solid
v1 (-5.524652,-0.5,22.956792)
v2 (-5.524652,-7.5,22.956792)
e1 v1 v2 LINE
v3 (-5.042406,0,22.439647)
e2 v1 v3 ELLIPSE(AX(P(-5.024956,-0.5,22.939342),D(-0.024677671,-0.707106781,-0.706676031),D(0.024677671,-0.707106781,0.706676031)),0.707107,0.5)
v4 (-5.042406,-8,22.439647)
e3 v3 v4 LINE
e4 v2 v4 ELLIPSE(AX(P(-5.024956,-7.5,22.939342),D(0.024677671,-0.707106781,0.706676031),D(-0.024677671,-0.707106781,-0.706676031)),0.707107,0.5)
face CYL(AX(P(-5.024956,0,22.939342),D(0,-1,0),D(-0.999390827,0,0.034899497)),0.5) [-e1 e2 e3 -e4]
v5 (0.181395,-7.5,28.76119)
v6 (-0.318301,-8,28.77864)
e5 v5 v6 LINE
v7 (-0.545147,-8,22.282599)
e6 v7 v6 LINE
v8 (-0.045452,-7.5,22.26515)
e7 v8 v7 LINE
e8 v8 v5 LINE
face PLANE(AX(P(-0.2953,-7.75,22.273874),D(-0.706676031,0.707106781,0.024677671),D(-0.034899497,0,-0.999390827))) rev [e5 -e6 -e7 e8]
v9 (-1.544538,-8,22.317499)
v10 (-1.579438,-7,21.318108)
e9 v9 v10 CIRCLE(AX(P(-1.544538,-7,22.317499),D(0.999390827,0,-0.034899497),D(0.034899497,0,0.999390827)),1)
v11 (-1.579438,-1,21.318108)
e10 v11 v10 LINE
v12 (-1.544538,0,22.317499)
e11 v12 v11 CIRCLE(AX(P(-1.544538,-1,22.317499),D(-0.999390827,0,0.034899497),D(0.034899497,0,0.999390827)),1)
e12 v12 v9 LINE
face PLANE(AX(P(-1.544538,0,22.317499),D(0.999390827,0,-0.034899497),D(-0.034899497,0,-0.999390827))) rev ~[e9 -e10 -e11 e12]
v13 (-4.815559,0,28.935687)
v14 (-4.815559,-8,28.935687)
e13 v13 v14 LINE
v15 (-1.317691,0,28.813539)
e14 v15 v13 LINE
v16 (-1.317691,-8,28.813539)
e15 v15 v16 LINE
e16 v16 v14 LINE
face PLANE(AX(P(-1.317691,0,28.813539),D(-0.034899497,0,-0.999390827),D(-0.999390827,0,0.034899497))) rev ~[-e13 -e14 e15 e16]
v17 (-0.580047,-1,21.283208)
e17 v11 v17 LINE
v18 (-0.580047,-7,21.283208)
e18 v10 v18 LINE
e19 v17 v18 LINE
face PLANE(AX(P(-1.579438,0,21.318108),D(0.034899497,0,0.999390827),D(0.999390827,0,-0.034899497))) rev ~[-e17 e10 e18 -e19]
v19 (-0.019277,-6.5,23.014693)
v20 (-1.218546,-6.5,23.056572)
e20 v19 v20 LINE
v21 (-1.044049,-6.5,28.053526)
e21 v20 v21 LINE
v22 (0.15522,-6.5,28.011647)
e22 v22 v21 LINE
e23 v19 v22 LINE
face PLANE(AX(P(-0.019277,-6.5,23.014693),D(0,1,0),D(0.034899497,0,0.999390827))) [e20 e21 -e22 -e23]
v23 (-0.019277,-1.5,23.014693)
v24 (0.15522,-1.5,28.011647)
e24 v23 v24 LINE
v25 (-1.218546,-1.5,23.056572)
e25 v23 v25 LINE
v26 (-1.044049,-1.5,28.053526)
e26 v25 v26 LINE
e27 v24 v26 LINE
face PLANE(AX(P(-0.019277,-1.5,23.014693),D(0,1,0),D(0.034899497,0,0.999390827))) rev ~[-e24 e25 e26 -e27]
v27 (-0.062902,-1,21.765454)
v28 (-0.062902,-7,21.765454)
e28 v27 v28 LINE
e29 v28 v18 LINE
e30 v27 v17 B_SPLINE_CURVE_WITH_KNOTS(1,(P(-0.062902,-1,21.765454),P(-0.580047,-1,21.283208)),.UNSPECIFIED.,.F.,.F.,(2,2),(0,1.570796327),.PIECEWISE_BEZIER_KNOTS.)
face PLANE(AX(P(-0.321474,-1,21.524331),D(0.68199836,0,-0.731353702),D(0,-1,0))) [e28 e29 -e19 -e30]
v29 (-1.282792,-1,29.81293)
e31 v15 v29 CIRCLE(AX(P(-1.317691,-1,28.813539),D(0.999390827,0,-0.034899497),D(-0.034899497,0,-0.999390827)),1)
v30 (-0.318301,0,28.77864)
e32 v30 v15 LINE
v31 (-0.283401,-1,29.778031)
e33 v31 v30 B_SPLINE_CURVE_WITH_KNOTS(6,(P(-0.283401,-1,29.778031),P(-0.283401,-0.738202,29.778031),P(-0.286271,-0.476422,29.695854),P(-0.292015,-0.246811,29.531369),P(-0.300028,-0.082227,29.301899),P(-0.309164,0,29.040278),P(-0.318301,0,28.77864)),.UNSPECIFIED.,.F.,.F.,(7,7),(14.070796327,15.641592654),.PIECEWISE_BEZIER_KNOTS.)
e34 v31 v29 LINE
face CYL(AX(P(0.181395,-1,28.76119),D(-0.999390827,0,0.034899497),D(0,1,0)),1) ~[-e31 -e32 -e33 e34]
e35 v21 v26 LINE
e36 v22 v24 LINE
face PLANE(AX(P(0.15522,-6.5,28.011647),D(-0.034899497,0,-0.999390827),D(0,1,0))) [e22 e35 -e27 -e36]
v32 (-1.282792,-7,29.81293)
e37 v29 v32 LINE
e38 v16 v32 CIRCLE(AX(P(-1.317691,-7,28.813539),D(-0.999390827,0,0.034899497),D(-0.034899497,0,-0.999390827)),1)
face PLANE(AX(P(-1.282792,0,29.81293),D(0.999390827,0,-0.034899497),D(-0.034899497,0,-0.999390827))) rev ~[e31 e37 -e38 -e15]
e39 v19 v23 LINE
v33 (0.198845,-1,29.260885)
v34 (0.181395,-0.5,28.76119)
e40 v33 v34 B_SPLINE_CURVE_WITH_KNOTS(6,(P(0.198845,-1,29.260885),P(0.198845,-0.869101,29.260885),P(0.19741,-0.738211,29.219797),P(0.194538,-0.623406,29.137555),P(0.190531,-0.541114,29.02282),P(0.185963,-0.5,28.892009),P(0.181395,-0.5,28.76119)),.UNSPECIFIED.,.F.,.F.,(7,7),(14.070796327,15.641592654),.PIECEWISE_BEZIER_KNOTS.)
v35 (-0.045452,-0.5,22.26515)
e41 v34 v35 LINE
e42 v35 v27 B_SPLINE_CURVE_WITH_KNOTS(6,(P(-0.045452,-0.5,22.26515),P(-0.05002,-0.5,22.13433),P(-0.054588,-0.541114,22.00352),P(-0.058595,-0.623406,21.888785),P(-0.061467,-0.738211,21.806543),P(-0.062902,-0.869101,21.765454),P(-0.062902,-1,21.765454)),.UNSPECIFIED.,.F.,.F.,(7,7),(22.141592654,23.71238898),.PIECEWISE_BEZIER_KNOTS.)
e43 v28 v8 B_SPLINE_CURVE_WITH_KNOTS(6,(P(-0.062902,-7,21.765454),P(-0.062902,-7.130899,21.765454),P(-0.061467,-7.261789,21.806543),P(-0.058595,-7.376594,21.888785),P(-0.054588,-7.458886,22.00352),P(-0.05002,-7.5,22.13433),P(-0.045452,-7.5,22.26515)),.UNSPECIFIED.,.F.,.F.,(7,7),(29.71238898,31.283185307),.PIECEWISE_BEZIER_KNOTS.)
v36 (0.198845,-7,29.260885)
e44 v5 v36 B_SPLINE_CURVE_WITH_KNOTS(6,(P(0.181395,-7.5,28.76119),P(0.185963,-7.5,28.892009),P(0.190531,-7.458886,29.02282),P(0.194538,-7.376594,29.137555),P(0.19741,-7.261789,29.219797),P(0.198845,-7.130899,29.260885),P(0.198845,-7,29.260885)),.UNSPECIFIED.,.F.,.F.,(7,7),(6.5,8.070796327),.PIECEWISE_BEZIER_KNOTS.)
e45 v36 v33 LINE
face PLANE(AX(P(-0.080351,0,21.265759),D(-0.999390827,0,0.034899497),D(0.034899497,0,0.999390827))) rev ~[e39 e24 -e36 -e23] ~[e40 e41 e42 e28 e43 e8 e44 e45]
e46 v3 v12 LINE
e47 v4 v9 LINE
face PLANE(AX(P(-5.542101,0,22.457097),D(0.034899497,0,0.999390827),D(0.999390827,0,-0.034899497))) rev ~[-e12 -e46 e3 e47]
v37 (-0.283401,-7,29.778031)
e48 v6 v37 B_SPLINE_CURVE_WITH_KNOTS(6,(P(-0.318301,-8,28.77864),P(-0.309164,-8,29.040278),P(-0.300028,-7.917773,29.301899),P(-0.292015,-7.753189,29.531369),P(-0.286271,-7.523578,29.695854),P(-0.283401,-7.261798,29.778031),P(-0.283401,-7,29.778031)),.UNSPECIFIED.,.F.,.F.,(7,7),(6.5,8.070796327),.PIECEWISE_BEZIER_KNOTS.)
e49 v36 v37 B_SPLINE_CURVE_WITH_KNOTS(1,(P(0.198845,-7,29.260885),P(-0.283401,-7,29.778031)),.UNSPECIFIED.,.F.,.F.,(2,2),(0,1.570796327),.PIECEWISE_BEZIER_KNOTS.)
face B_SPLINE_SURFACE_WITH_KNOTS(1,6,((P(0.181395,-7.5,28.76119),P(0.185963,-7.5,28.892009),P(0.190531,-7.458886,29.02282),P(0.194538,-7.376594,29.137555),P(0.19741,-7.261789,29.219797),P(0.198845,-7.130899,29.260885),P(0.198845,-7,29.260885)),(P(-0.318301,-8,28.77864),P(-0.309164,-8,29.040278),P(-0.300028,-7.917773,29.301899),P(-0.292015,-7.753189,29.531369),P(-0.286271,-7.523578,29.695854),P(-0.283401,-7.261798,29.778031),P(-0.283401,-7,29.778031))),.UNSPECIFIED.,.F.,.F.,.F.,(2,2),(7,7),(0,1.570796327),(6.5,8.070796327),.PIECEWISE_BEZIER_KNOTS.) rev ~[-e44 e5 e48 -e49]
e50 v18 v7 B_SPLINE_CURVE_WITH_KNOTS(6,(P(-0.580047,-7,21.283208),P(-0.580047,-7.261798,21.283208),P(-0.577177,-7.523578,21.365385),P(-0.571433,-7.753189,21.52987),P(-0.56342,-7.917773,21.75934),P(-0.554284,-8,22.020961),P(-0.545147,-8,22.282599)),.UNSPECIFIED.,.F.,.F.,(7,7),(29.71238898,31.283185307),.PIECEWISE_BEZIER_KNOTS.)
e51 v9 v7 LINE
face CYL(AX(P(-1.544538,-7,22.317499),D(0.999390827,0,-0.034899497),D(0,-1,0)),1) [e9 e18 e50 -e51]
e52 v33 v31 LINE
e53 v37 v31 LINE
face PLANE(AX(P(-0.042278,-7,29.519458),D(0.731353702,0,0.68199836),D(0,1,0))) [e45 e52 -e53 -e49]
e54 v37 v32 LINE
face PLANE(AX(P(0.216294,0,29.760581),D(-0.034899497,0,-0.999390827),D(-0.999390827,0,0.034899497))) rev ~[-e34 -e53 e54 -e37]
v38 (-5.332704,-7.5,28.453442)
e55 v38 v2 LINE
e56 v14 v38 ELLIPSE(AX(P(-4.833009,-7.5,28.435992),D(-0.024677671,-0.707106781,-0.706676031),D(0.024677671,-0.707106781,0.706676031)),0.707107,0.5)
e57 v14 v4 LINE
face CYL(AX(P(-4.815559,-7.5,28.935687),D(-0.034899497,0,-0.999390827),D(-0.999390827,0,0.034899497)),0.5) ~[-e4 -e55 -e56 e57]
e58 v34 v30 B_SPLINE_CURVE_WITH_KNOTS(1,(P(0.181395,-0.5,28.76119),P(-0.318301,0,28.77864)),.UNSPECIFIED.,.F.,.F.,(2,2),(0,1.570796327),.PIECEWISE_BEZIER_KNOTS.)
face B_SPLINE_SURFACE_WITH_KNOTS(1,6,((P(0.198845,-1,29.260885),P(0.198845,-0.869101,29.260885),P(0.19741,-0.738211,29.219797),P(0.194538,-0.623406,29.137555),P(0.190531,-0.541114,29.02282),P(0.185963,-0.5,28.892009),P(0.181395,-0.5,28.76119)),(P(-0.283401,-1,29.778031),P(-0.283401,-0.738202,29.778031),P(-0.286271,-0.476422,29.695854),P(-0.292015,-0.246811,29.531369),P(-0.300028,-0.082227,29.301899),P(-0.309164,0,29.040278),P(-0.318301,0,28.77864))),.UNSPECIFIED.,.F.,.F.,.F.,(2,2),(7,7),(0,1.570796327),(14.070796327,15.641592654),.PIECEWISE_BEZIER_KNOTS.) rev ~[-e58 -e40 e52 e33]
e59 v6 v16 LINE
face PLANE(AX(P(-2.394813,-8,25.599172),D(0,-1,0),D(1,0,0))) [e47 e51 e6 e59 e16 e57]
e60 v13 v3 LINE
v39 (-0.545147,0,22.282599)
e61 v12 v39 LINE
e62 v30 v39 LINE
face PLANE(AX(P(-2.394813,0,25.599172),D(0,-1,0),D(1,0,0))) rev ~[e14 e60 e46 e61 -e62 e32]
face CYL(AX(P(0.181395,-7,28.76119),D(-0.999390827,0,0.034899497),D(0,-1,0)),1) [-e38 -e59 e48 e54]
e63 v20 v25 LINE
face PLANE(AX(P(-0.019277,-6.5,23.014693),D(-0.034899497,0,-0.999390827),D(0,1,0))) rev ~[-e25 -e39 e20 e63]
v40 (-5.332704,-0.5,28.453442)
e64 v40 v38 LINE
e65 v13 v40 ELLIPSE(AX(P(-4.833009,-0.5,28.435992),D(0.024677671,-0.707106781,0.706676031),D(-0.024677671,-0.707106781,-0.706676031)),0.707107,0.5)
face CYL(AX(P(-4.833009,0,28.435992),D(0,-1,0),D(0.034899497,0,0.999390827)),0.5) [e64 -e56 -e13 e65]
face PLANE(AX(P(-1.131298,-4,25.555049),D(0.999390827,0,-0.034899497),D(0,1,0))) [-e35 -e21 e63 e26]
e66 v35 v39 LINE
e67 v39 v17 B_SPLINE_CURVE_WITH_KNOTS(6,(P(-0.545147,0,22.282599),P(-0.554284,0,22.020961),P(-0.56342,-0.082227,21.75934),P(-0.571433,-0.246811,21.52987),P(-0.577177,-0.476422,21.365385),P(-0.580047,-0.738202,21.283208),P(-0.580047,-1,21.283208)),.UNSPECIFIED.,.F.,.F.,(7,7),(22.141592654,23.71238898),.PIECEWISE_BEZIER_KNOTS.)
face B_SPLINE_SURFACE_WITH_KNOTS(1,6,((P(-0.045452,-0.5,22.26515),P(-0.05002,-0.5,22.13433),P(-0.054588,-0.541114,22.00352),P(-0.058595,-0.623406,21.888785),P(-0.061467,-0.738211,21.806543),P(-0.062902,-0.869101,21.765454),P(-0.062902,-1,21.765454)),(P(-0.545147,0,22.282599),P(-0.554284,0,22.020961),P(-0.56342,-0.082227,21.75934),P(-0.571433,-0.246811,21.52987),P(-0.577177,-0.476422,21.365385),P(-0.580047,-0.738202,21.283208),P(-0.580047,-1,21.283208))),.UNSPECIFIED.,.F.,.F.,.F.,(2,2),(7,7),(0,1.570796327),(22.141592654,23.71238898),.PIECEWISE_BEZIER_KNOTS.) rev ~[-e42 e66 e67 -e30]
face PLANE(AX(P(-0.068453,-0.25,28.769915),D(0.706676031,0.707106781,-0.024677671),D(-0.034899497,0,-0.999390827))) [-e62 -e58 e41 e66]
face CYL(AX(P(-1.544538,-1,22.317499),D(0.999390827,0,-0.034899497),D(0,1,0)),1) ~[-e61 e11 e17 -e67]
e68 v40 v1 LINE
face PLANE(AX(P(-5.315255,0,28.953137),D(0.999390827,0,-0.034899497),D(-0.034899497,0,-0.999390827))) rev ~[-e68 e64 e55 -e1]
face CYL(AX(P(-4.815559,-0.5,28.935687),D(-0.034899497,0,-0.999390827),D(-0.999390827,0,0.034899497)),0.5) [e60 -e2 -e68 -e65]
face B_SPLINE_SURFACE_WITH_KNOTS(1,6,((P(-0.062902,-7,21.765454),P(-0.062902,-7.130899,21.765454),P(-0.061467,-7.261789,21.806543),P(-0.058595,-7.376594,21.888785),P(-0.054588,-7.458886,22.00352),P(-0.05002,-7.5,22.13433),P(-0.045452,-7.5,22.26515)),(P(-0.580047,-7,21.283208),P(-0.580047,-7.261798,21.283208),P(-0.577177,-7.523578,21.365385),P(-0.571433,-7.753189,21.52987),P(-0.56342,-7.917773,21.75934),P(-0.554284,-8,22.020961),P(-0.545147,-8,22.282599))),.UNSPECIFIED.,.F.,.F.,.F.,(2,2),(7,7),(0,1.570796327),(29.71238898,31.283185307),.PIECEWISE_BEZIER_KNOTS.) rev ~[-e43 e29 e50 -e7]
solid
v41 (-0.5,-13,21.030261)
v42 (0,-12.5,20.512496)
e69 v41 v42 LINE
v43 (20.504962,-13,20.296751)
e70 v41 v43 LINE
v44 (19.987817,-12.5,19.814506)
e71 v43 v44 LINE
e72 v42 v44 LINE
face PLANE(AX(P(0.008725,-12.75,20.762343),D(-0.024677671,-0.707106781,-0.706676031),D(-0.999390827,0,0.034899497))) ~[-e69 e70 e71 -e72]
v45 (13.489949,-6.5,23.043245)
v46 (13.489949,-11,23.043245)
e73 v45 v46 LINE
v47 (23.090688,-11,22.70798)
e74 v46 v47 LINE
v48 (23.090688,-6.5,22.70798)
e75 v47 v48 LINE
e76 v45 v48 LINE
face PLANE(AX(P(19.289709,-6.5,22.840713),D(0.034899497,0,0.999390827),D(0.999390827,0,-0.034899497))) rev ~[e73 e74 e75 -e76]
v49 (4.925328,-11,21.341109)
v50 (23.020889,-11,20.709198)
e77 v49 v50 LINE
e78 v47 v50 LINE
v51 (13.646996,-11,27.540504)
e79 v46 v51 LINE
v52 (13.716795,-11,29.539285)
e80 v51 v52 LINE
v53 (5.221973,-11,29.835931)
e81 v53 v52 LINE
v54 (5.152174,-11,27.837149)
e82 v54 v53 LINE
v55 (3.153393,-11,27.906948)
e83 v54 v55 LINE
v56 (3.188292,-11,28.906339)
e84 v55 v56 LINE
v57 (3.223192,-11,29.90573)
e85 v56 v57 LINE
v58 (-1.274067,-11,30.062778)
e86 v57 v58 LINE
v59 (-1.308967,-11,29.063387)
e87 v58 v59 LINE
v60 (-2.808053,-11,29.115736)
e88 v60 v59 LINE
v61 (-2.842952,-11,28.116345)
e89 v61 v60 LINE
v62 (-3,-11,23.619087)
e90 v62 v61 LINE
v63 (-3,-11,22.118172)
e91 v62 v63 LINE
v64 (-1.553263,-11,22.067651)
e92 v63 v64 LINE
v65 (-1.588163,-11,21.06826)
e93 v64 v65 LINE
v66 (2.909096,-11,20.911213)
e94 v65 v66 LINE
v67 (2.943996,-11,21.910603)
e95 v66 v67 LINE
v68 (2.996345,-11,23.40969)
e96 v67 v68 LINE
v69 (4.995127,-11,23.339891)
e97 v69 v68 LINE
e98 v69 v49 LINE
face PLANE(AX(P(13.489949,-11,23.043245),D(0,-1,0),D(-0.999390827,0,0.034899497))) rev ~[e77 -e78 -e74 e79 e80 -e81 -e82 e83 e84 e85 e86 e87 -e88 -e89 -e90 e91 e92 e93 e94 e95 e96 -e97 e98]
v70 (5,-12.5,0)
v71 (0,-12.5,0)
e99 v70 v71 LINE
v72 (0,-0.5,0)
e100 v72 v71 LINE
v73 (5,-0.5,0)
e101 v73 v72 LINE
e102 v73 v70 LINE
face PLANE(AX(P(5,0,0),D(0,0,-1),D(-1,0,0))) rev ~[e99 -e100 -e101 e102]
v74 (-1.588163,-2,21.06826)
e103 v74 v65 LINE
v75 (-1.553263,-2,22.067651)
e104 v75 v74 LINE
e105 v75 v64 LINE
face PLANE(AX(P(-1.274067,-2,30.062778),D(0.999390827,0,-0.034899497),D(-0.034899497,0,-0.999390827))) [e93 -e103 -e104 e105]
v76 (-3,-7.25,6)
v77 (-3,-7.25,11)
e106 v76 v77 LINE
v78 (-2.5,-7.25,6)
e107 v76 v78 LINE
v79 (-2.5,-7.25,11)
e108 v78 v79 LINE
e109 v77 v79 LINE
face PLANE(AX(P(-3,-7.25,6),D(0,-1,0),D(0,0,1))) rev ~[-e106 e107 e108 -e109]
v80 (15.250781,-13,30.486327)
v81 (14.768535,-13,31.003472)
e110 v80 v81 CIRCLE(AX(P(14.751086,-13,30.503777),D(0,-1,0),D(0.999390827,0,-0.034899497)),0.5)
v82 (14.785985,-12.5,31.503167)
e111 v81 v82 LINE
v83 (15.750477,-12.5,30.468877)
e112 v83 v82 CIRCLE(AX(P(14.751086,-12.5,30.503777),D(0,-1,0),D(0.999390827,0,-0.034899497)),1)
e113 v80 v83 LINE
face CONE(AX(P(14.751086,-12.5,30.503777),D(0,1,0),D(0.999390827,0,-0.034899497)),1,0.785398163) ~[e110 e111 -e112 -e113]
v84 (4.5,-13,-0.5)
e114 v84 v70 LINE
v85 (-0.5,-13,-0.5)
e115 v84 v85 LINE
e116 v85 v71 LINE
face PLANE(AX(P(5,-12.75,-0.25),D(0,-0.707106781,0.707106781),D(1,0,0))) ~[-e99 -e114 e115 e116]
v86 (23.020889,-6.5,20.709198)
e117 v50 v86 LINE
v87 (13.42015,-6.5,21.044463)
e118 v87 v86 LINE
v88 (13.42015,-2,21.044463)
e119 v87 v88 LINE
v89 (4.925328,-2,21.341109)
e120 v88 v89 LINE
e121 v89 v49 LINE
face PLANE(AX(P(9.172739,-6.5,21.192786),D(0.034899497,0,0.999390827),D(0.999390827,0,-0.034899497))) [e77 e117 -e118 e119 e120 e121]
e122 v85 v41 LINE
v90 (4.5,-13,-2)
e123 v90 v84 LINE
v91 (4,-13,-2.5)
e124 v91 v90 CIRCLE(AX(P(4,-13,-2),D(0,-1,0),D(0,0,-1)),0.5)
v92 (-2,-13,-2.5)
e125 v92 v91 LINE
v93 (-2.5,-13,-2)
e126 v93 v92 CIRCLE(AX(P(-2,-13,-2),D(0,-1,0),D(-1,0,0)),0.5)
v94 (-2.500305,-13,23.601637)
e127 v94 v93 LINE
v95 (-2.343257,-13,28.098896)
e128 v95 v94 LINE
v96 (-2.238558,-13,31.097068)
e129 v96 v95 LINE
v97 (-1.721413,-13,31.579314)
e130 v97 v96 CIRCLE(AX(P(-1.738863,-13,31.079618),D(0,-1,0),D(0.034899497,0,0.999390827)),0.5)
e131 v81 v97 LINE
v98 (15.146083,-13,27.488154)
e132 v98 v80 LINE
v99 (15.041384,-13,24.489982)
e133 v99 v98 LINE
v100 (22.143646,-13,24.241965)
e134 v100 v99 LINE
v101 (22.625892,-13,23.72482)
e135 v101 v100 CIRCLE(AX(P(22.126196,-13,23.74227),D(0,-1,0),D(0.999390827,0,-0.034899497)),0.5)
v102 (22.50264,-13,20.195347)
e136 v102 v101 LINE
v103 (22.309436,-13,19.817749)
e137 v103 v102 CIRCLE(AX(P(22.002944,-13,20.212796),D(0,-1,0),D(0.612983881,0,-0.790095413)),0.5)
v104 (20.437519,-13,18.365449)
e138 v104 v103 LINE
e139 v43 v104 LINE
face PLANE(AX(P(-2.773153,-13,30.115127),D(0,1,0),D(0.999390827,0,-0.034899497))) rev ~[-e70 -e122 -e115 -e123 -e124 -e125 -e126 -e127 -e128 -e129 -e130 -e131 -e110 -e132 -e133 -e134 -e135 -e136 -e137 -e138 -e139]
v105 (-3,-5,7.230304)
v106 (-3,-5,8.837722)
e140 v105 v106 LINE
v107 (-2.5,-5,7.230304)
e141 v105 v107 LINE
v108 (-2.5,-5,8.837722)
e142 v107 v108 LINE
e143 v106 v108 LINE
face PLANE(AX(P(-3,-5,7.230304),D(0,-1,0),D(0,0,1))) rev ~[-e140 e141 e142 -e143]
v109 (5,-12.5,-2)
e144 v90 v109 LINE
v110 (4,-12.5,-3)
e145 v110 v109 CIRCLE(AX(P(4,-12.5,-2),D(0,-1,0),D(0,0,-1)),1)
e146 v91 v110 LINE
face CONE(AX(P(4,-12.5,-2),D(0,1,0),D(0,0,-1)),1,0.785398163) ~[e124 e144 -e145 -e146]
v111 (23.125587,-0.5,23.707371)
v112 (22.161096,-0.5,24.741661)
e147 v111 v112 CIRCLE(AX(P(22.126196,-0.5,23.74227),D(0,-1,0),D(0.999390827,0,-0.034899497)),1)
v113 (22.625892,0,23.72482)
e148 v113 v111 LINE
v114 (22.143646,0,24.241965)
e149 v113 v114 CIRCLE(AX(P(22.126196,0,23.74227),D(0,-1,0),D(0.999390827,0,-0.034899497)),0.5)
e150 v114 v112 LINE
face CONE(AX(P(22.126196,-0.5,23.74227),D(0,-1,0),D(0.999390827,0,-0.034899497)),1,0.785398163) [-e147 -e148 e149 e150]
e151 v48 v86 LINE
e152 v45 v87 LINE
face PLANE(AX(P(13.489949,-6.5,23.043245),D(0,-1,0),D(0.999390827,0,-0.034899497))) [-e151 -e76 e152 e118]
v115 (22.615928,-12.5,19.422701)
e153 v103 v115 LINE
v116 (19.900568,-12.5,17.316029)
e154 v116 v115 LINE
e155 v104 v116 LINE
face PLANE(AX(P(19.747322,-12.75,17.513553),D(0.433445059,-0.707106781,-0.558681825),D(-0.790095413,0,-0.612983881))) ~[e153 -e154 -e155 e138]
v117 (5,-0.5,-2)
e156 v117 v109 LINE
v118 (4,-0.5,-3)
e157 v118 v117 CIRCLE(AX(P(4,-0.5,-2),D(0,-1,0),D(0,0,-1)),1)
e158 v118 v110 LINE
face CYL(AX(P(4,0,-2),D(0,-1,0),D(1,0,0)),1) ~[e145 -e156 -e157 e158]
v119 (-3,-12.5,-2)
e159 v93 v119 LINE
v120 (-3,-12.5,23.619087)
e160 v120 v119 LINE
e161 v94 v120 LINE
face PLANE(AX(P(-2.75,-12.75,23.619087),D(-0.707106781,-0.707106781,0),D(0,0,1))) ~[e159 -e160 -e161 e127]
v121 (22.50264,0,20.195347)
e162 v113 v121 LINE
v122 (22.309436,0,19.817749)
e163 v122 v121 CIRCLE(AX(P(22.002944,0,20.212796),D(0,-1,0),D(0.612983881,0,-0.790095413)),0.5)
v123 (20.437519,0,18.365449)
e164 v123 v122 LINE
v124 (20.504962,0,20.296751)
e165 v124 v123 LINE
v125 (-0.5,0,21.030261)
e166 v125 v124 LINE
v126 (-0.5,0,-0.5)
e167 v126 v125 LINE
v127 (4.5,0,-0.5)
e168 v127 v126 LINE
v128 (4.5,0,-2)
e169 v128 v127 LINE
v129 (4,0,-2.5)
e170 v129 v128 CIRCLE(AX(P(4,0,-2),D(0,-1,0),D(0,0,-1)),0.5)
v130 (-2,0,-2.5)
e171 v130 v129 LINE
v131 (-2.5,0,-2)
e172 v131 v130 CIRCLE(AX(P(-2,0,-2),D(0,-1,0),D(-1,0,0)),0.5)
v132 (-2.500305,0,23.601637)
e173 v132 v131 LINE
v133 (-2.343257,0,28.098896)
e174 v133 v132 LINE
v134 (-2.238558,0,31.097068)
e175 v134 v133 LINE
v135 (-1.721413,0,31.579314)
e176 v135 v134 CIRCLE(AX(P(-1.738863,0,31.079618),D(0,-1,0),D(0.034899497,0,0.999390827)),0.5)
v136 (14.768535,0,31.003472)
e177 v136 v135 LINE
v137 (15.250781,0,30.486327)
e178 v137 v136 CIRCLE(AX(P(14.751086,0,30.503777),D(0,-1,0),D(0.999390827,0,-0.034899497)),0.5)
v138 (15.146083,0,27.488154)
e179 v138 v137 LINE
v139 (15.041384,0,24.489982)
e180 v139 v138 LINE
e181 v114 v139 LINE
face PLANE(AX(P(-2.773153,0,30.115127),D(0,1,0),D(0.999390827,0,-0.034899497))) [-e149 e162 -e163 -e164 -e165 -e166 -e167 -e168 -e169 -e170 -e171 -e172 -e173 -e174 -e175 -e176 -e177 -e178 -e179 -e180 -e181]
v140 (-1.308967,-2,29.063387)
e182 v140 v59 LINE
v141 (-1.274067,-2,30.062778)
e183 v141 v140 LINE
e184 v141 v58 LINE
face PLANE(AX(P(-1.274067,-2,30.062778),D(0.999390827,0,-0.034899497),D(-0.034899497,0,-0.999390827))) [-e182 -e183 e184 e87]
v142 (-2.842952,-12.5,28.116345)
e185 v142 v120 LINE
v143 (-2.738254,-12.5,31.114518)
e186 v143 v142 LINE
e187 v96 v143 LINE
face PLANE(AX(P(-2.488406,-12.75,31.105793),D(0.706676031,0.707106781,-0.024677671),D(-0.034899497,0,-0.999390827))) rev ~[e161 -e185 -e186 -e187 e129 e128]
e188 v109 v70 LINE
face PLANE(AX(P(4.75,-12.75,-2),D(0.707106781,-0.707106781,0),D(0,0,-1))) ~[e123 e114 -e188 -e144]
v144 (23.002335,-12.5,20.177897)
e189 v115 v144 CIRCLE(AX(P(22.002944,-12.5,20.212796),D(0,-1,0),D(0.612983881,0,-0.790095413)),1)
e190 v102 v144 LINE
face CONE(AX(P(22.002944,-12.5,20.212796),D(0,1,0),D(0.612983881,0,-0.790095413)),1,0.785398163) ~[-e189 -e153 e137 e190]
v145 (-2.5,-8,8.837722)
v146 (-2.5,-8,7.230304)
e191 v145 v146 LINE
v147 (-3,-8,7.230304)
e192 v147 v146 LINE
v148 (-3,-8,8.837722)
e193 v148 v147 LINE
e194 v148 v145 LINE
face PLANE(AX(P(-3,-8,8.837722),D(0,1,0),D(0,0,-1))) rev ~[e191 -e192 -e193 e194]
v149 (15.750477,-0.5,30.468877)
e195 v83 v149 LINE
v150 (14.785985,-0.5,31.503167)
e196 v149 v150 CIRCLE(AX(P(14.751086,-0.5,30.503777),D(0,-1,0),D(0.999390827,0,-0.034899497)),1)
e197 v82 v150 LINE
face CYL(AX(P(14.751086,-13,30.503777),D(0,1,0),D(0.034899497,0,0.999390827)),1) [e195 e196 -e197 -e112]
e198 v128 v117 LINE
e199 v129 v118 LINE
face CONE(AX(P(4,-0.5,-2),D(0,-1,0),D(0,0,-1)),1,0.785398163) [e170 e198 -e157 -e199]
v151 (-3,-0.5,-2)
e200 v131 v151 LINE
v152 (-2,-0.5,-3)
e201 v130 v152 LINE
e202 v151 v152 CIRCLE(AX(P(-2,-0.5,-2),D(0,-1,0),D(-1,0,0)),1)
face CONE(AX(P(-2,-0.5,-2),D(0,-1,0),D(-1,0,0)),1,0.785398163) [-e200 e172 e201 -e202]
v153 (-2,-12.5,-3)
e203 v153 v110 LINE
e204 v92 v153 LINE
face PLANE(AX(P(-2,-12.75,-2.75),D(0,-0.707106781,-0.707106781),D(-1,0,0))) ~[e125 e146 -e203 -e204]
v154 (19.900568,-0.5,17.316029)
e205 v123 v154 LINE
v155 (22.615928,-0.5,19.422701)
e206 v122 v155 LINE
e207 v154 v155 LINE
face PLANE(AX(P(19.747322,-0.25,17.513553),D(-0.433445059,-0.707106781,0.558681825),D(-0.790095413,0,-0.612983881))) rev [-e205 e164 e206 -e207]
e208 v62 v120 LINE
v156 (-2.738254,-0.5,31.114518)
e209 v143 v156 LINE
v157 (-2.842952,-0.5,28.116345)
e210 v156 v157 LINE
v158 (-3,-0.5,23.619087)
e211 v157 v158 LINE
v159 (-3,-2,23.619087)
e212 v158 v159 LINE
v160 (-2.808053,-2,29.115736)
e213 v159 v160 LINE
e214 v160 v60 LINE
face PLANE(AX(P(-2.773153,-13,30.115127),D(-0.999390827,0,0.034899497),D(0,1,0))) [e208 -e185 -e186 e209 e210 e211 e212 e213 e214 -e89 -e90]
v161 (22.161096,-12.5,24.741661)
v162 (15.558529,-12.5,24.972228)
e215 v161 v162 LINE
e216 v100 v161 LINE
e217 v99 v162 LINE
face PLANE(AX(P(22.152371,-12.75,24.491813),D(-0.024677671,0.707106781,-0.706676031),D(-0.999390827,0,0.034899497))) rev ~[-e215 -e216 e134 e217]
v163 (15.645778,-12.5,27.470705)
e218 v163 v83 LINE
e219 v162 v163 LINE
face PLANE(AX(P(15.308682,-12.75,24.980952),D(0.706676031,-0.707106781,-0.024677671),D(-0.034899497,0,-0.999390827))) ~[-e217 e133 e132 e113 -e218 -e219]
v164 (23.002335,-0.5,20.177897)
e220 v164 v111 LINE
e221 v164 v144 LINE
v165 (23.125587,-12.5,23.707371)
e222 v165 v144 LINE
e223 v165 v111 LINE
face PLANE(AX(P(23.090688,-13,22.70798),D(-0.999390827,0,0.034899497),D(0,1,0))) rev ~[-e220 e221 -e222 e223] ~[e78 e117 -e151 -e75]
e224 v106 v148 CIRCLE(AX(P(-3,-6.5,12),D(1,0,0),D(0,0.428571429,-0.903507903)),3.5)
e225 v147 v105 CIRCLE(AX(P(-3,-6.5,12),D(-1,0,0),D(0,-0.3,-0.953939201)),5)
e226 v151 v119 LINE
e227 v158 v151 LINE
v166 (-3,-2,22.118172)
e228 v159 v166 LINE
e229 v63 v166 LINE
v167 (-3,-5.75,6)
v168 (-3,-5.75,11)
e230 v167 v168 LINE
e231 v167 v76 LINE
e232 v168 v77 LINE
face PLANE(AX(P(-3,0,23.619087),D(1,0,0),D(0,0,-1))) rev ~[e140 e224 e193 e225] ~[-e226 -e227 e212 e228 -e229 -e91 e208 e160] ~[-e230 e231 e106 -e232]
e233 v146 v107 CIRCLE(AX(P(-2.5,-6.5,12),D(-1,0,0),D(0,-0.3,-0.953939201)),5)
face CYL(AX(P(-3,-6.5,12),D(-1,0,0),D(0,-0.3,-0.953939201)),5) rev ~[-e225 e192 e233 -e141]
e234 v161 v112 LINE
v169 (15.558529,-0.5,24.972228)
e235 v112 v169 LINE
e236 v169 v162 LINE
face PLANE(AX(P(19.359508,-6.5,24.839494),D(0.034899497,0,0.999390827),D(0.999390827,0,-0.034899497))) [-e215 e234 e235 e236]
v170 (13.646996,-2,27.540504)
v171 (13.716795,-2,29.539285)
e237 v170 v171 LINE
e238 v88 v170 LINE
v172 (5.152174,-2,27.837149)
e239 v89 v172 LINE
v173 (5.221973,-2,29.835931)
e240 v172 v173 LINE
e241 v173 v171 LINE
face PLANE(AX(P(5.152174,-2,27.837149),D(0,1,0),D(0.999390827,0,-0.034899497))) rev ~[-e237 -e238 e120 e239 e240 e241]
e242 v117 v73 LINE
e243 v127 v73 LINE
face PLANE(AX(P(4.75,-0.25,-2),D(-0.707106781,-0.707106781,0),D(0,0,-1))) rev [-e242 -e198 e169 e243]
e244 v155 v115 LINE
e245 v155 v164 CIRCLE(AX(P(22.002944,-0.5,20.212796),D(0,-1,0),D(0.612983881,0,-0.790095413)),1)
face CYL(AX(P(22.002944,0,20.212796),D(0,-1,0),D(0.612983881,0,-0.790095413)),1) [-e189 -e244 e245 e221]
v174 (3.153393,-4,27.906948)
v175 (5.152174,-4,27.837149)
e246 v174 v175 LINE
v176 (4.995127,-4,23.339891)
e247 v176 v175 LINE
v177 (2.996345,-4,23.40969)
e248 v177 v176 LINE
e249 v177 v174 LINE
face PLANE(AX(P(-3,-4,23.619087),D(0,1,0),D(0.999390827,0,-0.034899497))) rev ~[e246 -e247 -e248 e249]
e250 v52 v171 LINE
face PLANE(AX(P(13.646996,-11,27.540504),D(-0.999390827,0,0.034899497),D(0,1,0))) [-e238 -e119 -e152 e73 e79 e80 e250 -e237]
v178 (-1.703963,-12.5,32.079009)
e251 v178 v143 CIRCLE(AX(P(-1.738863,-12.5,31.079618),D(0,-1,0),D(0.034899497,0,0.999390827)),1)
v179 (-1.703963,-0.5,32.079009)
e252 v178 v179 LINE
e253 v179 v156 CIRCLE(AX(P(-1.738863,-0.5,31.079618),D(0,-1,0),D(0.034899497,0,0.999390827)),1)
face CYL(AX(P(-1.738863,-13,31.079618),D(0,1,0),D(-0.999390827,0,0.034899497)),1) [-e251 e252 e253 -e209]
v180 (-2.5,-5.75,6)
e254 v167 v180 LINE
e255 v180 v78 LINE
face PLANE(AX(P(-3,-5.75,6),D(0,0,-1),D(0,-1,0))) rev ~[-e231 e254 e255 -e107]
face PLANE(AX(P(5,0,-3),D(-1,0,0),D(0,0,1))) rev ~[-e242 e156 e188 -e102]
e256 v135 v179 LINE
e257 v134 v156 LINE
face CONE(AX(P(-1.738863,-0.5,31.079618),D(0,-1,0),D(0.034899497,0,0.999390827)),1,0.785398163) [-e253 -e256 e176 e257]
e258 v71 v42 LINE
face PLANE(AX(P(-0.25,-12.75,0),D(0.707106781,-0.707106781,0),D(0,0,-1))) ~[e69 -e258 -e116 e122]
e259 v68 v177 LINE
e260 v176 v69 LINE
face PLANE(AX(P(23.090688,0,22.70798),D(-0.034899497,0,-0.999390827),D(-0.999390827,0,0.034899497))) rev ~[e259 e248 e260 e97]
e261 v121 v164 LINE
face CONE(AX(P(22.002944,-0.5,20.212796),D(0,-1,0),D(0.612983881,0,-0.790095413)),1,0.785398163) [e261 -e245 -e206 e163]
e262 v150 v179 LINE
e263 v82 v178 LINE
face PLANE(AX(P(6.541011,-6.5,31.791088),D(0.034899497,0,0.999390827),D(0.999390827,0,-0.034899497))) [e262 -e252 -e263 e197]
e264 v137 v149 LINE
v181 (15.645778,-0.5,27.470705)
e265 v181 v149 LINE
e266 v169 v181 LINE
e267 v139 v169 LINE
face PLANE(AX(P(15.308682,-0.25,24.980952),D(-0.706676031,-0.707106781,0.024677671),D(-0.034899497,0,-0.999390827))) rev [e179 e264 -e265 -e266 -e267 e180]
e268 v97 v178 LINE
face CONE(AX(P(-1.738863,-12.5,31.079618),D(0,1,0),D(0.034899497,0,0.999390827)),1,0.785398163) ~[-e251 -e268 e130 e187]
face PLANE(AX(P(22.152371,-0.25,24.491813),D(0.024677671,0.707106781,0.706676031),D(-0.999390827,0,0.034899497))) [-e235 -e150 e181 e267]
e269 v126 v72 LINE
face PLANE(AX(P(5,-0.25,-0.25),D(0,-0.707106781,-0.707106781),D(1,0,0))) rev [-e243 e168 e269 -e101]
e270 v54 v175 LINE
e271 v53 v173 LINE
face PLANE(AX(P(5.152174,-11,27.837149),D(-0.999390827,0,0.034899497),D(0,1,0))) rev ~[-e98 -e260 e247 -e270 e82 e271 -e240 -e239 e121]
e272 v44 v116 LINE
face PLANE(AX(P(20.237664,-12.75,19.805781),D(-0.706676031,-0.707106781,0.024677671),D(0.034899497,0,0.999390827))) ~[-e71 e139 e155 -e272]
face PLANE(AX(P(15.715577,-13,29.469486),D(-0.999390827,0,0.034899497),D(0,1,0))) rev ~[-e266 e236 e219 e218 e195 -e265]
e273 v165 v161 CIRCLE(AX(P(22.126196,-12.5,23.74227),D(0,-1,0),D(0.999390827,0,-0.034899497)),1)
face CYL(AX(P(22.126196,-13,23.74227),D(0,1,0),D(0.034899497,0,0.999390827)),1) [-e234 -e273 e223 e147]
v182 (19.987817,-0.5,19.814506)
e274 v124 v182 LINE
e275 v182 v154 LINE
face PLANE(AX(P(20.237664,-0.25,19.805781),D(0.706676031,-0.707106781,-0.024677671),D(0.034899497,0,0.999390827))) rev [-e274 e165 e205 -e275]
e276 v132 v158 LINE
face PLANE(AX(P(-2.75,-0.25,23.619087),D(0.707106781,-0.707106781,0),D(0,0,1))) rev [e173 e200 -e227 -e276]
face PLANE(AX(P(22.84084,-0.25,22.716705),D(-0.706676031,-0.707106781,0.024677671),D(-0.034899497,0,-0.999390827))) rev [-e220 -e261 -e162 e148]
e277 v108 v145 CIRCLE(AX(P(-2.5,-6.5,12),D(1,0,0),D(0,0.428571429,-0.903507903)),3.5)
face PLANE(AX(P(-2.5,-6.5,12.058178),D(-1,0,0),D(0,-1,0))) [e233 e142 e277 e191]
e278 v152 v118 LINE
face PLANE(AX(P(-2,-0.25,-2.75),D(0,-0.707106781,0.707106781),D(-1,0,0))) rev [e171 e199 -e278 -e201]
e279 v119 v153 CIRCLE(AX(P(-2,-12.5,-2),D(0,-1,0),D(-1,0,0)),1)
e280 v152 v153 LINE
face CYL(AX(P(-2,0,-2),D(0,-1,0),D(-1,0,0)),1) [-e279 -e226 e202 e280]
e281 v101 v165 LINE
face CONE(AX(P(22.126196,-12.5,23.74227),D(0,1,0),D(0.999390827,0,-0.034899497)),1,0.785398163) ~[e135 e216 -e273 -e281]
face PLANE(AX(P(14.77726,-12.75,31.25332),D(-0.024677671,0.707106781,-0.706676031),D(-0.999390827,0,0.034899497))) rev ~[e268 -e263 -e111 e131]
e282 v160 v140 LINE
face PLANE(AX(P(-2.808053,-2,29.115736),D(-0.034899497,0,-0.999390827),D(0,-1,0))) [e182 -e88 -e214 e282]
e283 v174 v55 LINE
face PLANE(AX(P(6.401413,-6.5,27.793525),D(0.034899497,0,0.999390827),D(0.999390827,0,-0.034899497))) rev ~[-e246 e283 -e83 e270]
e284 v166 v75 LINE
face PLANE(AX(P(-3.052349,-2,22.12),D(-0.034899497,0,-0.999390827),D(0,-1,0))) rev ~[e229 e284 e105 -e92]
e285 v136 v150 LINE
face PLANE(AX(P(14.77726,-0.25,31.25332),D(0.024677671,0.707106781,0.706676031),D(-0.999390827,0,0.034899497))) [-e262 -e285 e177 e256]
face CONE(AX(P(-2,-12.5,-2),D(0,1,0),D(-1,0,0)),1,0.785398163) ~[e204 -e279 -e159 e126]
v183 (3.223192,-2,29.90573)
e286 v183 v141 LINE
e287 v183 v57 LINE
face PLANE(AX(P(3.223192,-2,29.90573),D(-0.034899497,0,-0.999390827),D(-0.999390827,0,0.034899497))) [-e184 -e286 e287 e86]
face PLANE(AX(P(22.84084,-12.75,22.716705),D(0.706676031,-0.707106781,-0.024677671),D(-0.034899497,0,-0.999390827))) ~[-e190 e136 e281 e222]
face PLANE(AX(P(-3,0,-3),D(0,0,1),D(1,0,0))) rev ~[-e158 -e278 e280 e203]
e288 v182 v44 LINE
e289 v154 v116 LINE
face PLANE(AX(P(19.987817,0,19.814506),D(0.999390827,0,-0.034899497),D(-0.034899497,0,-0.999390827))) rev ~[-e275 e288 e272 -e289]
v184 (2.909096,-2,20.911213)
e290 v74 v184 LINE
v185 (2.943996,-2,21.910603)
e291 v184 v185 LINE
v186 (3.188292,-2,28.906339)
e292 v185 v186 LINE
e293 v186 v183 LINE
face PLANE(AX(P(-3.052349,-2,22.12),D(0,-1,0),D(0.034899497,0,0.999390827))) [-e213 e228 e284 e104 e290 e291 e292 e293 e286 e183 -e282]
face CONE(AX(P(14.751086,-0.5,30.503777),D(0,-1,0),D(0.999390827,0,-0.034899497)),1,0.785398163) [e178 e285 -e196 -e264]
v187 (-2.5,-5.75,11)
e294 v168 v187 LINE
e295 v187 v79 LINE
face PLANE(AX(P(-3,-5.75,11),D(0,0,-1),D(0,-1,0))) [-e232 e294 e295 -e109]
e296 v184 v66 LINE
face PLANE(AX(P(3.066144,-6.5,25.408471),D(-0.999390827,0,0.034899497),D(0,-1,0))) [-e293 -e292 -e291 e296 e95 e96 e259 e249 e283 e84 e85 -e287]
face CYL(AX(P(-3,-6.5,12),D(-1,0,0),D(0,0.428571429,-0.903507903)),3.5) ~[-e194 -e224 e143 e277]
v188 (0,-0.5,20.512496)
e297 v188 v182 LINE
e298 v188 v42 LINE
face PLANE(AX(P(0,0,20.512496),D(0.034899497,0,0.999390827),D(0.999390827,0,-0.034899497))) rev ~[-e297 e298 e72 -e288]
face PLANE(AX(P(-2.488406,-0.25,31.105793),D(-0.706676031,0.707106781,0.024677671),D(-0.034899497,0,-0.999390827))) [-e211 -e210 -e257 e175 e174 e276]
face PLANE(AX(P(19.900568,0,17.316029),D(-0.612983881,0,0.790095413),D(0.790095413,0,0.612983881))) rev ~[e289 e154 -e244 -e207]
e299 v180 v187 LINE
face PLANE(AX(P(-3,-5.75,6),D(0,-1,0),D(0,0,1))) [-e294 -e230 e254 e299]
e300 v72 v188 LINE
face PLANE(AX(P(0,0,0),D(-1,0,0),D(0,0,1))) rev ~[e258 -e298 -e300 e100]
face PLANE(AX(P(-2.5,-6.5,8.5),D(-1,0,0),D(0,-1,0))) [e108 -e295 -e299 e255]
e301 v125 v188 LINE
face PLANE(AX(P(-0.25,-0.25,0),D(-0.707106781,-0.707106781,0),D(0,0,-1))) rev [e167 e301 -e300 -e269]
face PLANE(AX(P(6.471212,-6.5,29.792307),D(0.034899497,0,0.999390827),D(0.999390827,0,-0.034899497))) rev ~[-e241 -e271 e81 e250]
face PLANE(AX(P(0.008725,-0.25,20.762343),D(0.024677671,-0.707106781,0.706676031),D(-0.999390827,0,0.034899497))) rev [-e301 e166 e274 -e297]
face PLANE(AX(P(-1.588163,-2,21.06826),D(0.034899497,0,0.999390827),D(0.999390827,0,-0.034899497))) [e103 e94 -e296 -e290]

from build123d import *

# Parameters (mm, degrees)
F1_DEPTH  = 13
F2_R      = 1
F3_W      = 9.6065909414
F3_H      = 4.5
F4_DEPTH  = 2
F6_DEPTH  = 2
F9_DEPTH  = 4.5
F10_W     = 18.5
F10_H     = 13
F10_W_2   = 8.5
F10_H_2   = 9
F11_DEPTH = 2
F12_W     = 18.5
F12_H     = 13
F13_DEPTH = 2
F14_W     = 9
F14_H     = 7
F15_DEPTH = 6
F17_DEPTH = 9
F19_DEPTH = 8
F20_R     = 0.5
F21_R     = 1
F22_SIZE  = 0.5
F23_W     = 1.5
F23_H     = 5
F24_DEPTH = 0.5
F25_R     = 1
F26_SIZE  = 0.5
F27_W     = 5
F27_H     = 5
F28_DEPTH = 1.2


with BuildPart() as f1:
    # F0 (on Front) → F1 (new body)
    with BuildSketch(Plane.XZ):
        Polygon((5, -3), (5, 0), (0, 0), (0, 20.5124956581), (19.9878165404, 19.8145057241), (19.9005677986, 17.3160286565), (22.9859890214, 19.709807234), (23.0906875115, 22.707979715), (-3, 23.6190865995), (-3, -3), align=None)
    extrude(amount=F1_DEPTH)

    # F2
    f2_edges = [f1.edges().sort_by_distance(p)[0] for p in [
        (5, -6.5, -3),
        (22.985989, -6.5, 19.709807),
    ]]
    fillet(f2_edges, radius=F2_R)

    # F3 (on face) → F4 (cut)
    with BuildSketch(Plane(origin=(0.8201381725, 0, 23.4856844349), x_dir=(0.999390827, 0, -0.0348994967), z_dir=(0.0348994967, 0, 0.999390827))):
        Polygon((12.677533284, -2), (4.177533284, -2), (4.177533284, -11), (12.677533284, -11), (12.677533284, -6.5), align=None)
        with Locations((17.4808287547, -8.75)):
            Rectangle(F3_W, F3_H)
    extrude(amount=-F4_DEPTH, mode=Mode.SUBTRACT)

    # F5 (on face) → F6 (join)
    with BuildSketch(Plane(origin=(0.8201381725, 0, 23.4856844349), x_dir=(0.999390827, 0, -0.0348994967), z_dir=(0.0348994967, 0, 0.999390827))):
        Polygon((14.677533284, -4.5), (14.677533284, -13), (22.2841242254, -13), (22.2841242254, -4.4835860828), (22.2841242254, 0), (14.677533284, 0), align=None)
    extrude(amount=F6_DEPTH)

    # F8 (on face) → F9 (join)
    with BuildSketch(Plane(origin=(0.8201381725, 0, 23.4856844349), x_dir=(0.999390827, 0, -0.0348994967), z_dir=(0.0348994967, 0, 0.999390827))):
        Polygon((-3.822466716, -13), (14.677533284, -13), (14.677533284, 0), (-3.822466716, 0), (-3.822466716, -4), (4.177533284, -4), (4.177533284, -2), (12.677533284, -2), (12.677533284, -11), (4.177533284, -11), (-3.822466716, -11), align=None)
    extrude(amount=F9_DEPTH)

    # F10 (on face) → F11 (join)
    with BuildSketch(Plane(origin=(0.9771859077, 0, 27.9829431565), x_dir=(0.999390827, 0, -0.0348994967), z_dir=(0.0348994967, 0, 0.999390827))):
        with Locations((5.427533284, -6.5)):
            Rectangle(F10_W, F10_H)
        with Locations((8.427533284, -6.5)):
            Rectangle(F10_W_2, F10_H_2, mode=Mode.SUBTRACT)
    extrude(amount=F11_DEPTH)

    # F12 (on face) → F13 (join)
    with BuildSketch(Plane(origin=(1.0469849011, 0, 29.9817248106), x_dir=(0.999390827, 0, -0.0348994967), z_dir=(0.0348994967, 0, 0.999390827))):
        with Locations((5.427533284, -6.5)):
            Rectangle(F12_W, F12_H)
    extrude(amount=F13_DEPTH)

    # F14 (on face) → F15 (cut)
    with BuildSketch(Plane(origin=(-3.8201381725, 0, 0.1334021645), x_dir=(0, -1, 0), z_dir=(-0.999390827, 0, 0.0348994967))):
        with Locations((6.5, 25.5)):
            Rectangle(F14_W, F14_H)
    extrude(amount=-F15_DEPTH, mode=Mode.SUBTRACT)

    # F16 (on face) → F17 (cut, through all)
    with BuildSketch(Plane.XZ.offset(2)):
        Polygon((3.2231916907, 29.9057299949), (-1.2740670309, 30.0627777301), (-1.5881625012, 21.0682602869), (2.9090962204, 20.9112125517), align=None)
    extrude(amount=F17_DEPTH, mode=Mode.SUBTRACT)

    # F23 (on face) → F24 (cut)
    with BuildSketch(Plane(origin=(-3, 0, 0), x_dir=(0, -1, 0), z_dir=(-1, 0, 0))):
        with Locations((6.5, 8.5)):
            Rectangle(F23_W, F23_H)
        with BuildLine():
            Line((8, 8.8377223398), (8, 7.2303039929))
            ThreePointArc((8, 7.2303039929), (6.5, 17), (5, 7.2303039929))
            Line((5, 7.2303039929), (5, 8.8377223398))
            ThreePointArc((5, 8.8377223398), (6.5, 15.5), (8, 8.8377223398))
        make_face()
    extrude(amount=-F24_DEPTH, mode=Mode.SUBTRACT)

    # F25
    f25_edges = [f1.edges().sort_by_distance(p)[0] for p in [
        (-3, -6.5, -3),
        (-2.703354, -6.5, 32.113909),
        (15.785376, -6.5, 31.468268),
        (23.160487, -6.5, 24.706761),
    ]]
    fillet(f25_edges, radius=F25_R)

    # F26
    f26_edges = [f1.edges().sort_by_distance(p)[0] for p in [
        (1, -13, -3),
        (-2.707107, -13, -2.707107),
        (4.707107, -13, -2.707107),
        (-3, -13, 10.809543),
        (5, -13, -1),
        (-2.869127, -13, 27.366802),
        (2.5, -13, 0),
        (-2.420861, -13, 31.810972),
        (0, -13, 10.256248),
        (6.541011, -13, 31.791088),
        (9.993908, -13, 20.163501),
        (15.482439, -13, 31.185775),
        (19.944192, -13, 18.565267),
        (15.654503, -13, 27.720552),
        (21.258248, -13, 18.369365),
        (18.859812, -13, 24.856944),
        (22.893179, -13, 19.757295),
        (22.85755, -13, 24.424268),
        (23.063961, -13, 21.942634),
        (1, 0, -3),
        (-2.707107, 0, -2.707107),
        (4.707107, 0, -2.707107),
        (-3, 0, 10.809543),
        (5, 0, -1),
        (-2.869127, 0, 27.366802),
        (2.5, 0, 0),
        (-2.420861, 0, 31.810972),
        (0, 0, 10.256248),
        (6.541011, 0, 31.791088),
        (9.993908, 0, 20.163501),
        (15.482439, 0, 31.185775),
        (19.944192, 0, 18.565267),
        (15.654503, 0, 27.720552),
        (21.258248, 0, 18.369365),
        (18.859812, 0, 24.856944),
        (22.893179, 0, 19.757295),
        (22.85755, 0, 24.424268),
        (23.063961, 0, 21.942634),
    ]]
    chamfer(f26_edges, length=F26_SIZE)


with BuildPart() as f19:
    # F18 (on Front) → F19 (new body)
    with BuildSketch(Plane.XZ):
        Polygon((-0.0803513865, 21.2657587486), (0.2162943354, 29.7605807783), (-1.2827919051, 29.8129300233), (-1.3176914018, 28.8135391963), (-5.3152547099, 28.9531371831), (-5.5421014384, 22.4570968075), (-1.5445381303, 22.3174988207), (-1.5794376271, 21.3181079937), align=None)
    extrude(amount=F19_DEPTH)

    # F20
    f20_edges = [f19.edges().sort_by_distance(p)[0] for p in [
        (-5.315255, -4, 28.953137),
        (-5.542101, -4, 22.457097),
        (-5.428678, 0, 25.705117),
        (-5.428678, -8, 25.705117),
    ]]
    fillet(f20_edges, radius=F20_R)

    # F21
    f21_edges = [f19.edges().sort_by_distance(p)[0] for p in [
        (-0.533249, -8, 29.786755),
        (-0.533249, 0, 29.786755),
        (-0.829895, 0, 21.291933),
        (-0.829895, -8, 21.291933),
    ]]
    fillet(f21_edges, radius=F21_R)

    # F22
    f22_edges = [f19.edges().sort_by_distance(p)[0] for p in [
        (0.067971, -8, 25.51317),
    ]]
    chamfer(f22_edges, length=F22_SIZE)

    # F27 (on face) → F28 (cut)
    with BuildSketch(Plane(origin=(-0.8219656915, 0, 0.0287036744), x_dir=(0, 1, 0), z_dir=(0.999390827, 0, -0.0348994967))):
        with Locations((-4, 25.5)):
            Rectangle(F27_W, F27_H)
    extrude(amount=-F28_DEPTH, mode=Mode.SUBTRACT)


solid = Compound([f1.part, f19.part])
